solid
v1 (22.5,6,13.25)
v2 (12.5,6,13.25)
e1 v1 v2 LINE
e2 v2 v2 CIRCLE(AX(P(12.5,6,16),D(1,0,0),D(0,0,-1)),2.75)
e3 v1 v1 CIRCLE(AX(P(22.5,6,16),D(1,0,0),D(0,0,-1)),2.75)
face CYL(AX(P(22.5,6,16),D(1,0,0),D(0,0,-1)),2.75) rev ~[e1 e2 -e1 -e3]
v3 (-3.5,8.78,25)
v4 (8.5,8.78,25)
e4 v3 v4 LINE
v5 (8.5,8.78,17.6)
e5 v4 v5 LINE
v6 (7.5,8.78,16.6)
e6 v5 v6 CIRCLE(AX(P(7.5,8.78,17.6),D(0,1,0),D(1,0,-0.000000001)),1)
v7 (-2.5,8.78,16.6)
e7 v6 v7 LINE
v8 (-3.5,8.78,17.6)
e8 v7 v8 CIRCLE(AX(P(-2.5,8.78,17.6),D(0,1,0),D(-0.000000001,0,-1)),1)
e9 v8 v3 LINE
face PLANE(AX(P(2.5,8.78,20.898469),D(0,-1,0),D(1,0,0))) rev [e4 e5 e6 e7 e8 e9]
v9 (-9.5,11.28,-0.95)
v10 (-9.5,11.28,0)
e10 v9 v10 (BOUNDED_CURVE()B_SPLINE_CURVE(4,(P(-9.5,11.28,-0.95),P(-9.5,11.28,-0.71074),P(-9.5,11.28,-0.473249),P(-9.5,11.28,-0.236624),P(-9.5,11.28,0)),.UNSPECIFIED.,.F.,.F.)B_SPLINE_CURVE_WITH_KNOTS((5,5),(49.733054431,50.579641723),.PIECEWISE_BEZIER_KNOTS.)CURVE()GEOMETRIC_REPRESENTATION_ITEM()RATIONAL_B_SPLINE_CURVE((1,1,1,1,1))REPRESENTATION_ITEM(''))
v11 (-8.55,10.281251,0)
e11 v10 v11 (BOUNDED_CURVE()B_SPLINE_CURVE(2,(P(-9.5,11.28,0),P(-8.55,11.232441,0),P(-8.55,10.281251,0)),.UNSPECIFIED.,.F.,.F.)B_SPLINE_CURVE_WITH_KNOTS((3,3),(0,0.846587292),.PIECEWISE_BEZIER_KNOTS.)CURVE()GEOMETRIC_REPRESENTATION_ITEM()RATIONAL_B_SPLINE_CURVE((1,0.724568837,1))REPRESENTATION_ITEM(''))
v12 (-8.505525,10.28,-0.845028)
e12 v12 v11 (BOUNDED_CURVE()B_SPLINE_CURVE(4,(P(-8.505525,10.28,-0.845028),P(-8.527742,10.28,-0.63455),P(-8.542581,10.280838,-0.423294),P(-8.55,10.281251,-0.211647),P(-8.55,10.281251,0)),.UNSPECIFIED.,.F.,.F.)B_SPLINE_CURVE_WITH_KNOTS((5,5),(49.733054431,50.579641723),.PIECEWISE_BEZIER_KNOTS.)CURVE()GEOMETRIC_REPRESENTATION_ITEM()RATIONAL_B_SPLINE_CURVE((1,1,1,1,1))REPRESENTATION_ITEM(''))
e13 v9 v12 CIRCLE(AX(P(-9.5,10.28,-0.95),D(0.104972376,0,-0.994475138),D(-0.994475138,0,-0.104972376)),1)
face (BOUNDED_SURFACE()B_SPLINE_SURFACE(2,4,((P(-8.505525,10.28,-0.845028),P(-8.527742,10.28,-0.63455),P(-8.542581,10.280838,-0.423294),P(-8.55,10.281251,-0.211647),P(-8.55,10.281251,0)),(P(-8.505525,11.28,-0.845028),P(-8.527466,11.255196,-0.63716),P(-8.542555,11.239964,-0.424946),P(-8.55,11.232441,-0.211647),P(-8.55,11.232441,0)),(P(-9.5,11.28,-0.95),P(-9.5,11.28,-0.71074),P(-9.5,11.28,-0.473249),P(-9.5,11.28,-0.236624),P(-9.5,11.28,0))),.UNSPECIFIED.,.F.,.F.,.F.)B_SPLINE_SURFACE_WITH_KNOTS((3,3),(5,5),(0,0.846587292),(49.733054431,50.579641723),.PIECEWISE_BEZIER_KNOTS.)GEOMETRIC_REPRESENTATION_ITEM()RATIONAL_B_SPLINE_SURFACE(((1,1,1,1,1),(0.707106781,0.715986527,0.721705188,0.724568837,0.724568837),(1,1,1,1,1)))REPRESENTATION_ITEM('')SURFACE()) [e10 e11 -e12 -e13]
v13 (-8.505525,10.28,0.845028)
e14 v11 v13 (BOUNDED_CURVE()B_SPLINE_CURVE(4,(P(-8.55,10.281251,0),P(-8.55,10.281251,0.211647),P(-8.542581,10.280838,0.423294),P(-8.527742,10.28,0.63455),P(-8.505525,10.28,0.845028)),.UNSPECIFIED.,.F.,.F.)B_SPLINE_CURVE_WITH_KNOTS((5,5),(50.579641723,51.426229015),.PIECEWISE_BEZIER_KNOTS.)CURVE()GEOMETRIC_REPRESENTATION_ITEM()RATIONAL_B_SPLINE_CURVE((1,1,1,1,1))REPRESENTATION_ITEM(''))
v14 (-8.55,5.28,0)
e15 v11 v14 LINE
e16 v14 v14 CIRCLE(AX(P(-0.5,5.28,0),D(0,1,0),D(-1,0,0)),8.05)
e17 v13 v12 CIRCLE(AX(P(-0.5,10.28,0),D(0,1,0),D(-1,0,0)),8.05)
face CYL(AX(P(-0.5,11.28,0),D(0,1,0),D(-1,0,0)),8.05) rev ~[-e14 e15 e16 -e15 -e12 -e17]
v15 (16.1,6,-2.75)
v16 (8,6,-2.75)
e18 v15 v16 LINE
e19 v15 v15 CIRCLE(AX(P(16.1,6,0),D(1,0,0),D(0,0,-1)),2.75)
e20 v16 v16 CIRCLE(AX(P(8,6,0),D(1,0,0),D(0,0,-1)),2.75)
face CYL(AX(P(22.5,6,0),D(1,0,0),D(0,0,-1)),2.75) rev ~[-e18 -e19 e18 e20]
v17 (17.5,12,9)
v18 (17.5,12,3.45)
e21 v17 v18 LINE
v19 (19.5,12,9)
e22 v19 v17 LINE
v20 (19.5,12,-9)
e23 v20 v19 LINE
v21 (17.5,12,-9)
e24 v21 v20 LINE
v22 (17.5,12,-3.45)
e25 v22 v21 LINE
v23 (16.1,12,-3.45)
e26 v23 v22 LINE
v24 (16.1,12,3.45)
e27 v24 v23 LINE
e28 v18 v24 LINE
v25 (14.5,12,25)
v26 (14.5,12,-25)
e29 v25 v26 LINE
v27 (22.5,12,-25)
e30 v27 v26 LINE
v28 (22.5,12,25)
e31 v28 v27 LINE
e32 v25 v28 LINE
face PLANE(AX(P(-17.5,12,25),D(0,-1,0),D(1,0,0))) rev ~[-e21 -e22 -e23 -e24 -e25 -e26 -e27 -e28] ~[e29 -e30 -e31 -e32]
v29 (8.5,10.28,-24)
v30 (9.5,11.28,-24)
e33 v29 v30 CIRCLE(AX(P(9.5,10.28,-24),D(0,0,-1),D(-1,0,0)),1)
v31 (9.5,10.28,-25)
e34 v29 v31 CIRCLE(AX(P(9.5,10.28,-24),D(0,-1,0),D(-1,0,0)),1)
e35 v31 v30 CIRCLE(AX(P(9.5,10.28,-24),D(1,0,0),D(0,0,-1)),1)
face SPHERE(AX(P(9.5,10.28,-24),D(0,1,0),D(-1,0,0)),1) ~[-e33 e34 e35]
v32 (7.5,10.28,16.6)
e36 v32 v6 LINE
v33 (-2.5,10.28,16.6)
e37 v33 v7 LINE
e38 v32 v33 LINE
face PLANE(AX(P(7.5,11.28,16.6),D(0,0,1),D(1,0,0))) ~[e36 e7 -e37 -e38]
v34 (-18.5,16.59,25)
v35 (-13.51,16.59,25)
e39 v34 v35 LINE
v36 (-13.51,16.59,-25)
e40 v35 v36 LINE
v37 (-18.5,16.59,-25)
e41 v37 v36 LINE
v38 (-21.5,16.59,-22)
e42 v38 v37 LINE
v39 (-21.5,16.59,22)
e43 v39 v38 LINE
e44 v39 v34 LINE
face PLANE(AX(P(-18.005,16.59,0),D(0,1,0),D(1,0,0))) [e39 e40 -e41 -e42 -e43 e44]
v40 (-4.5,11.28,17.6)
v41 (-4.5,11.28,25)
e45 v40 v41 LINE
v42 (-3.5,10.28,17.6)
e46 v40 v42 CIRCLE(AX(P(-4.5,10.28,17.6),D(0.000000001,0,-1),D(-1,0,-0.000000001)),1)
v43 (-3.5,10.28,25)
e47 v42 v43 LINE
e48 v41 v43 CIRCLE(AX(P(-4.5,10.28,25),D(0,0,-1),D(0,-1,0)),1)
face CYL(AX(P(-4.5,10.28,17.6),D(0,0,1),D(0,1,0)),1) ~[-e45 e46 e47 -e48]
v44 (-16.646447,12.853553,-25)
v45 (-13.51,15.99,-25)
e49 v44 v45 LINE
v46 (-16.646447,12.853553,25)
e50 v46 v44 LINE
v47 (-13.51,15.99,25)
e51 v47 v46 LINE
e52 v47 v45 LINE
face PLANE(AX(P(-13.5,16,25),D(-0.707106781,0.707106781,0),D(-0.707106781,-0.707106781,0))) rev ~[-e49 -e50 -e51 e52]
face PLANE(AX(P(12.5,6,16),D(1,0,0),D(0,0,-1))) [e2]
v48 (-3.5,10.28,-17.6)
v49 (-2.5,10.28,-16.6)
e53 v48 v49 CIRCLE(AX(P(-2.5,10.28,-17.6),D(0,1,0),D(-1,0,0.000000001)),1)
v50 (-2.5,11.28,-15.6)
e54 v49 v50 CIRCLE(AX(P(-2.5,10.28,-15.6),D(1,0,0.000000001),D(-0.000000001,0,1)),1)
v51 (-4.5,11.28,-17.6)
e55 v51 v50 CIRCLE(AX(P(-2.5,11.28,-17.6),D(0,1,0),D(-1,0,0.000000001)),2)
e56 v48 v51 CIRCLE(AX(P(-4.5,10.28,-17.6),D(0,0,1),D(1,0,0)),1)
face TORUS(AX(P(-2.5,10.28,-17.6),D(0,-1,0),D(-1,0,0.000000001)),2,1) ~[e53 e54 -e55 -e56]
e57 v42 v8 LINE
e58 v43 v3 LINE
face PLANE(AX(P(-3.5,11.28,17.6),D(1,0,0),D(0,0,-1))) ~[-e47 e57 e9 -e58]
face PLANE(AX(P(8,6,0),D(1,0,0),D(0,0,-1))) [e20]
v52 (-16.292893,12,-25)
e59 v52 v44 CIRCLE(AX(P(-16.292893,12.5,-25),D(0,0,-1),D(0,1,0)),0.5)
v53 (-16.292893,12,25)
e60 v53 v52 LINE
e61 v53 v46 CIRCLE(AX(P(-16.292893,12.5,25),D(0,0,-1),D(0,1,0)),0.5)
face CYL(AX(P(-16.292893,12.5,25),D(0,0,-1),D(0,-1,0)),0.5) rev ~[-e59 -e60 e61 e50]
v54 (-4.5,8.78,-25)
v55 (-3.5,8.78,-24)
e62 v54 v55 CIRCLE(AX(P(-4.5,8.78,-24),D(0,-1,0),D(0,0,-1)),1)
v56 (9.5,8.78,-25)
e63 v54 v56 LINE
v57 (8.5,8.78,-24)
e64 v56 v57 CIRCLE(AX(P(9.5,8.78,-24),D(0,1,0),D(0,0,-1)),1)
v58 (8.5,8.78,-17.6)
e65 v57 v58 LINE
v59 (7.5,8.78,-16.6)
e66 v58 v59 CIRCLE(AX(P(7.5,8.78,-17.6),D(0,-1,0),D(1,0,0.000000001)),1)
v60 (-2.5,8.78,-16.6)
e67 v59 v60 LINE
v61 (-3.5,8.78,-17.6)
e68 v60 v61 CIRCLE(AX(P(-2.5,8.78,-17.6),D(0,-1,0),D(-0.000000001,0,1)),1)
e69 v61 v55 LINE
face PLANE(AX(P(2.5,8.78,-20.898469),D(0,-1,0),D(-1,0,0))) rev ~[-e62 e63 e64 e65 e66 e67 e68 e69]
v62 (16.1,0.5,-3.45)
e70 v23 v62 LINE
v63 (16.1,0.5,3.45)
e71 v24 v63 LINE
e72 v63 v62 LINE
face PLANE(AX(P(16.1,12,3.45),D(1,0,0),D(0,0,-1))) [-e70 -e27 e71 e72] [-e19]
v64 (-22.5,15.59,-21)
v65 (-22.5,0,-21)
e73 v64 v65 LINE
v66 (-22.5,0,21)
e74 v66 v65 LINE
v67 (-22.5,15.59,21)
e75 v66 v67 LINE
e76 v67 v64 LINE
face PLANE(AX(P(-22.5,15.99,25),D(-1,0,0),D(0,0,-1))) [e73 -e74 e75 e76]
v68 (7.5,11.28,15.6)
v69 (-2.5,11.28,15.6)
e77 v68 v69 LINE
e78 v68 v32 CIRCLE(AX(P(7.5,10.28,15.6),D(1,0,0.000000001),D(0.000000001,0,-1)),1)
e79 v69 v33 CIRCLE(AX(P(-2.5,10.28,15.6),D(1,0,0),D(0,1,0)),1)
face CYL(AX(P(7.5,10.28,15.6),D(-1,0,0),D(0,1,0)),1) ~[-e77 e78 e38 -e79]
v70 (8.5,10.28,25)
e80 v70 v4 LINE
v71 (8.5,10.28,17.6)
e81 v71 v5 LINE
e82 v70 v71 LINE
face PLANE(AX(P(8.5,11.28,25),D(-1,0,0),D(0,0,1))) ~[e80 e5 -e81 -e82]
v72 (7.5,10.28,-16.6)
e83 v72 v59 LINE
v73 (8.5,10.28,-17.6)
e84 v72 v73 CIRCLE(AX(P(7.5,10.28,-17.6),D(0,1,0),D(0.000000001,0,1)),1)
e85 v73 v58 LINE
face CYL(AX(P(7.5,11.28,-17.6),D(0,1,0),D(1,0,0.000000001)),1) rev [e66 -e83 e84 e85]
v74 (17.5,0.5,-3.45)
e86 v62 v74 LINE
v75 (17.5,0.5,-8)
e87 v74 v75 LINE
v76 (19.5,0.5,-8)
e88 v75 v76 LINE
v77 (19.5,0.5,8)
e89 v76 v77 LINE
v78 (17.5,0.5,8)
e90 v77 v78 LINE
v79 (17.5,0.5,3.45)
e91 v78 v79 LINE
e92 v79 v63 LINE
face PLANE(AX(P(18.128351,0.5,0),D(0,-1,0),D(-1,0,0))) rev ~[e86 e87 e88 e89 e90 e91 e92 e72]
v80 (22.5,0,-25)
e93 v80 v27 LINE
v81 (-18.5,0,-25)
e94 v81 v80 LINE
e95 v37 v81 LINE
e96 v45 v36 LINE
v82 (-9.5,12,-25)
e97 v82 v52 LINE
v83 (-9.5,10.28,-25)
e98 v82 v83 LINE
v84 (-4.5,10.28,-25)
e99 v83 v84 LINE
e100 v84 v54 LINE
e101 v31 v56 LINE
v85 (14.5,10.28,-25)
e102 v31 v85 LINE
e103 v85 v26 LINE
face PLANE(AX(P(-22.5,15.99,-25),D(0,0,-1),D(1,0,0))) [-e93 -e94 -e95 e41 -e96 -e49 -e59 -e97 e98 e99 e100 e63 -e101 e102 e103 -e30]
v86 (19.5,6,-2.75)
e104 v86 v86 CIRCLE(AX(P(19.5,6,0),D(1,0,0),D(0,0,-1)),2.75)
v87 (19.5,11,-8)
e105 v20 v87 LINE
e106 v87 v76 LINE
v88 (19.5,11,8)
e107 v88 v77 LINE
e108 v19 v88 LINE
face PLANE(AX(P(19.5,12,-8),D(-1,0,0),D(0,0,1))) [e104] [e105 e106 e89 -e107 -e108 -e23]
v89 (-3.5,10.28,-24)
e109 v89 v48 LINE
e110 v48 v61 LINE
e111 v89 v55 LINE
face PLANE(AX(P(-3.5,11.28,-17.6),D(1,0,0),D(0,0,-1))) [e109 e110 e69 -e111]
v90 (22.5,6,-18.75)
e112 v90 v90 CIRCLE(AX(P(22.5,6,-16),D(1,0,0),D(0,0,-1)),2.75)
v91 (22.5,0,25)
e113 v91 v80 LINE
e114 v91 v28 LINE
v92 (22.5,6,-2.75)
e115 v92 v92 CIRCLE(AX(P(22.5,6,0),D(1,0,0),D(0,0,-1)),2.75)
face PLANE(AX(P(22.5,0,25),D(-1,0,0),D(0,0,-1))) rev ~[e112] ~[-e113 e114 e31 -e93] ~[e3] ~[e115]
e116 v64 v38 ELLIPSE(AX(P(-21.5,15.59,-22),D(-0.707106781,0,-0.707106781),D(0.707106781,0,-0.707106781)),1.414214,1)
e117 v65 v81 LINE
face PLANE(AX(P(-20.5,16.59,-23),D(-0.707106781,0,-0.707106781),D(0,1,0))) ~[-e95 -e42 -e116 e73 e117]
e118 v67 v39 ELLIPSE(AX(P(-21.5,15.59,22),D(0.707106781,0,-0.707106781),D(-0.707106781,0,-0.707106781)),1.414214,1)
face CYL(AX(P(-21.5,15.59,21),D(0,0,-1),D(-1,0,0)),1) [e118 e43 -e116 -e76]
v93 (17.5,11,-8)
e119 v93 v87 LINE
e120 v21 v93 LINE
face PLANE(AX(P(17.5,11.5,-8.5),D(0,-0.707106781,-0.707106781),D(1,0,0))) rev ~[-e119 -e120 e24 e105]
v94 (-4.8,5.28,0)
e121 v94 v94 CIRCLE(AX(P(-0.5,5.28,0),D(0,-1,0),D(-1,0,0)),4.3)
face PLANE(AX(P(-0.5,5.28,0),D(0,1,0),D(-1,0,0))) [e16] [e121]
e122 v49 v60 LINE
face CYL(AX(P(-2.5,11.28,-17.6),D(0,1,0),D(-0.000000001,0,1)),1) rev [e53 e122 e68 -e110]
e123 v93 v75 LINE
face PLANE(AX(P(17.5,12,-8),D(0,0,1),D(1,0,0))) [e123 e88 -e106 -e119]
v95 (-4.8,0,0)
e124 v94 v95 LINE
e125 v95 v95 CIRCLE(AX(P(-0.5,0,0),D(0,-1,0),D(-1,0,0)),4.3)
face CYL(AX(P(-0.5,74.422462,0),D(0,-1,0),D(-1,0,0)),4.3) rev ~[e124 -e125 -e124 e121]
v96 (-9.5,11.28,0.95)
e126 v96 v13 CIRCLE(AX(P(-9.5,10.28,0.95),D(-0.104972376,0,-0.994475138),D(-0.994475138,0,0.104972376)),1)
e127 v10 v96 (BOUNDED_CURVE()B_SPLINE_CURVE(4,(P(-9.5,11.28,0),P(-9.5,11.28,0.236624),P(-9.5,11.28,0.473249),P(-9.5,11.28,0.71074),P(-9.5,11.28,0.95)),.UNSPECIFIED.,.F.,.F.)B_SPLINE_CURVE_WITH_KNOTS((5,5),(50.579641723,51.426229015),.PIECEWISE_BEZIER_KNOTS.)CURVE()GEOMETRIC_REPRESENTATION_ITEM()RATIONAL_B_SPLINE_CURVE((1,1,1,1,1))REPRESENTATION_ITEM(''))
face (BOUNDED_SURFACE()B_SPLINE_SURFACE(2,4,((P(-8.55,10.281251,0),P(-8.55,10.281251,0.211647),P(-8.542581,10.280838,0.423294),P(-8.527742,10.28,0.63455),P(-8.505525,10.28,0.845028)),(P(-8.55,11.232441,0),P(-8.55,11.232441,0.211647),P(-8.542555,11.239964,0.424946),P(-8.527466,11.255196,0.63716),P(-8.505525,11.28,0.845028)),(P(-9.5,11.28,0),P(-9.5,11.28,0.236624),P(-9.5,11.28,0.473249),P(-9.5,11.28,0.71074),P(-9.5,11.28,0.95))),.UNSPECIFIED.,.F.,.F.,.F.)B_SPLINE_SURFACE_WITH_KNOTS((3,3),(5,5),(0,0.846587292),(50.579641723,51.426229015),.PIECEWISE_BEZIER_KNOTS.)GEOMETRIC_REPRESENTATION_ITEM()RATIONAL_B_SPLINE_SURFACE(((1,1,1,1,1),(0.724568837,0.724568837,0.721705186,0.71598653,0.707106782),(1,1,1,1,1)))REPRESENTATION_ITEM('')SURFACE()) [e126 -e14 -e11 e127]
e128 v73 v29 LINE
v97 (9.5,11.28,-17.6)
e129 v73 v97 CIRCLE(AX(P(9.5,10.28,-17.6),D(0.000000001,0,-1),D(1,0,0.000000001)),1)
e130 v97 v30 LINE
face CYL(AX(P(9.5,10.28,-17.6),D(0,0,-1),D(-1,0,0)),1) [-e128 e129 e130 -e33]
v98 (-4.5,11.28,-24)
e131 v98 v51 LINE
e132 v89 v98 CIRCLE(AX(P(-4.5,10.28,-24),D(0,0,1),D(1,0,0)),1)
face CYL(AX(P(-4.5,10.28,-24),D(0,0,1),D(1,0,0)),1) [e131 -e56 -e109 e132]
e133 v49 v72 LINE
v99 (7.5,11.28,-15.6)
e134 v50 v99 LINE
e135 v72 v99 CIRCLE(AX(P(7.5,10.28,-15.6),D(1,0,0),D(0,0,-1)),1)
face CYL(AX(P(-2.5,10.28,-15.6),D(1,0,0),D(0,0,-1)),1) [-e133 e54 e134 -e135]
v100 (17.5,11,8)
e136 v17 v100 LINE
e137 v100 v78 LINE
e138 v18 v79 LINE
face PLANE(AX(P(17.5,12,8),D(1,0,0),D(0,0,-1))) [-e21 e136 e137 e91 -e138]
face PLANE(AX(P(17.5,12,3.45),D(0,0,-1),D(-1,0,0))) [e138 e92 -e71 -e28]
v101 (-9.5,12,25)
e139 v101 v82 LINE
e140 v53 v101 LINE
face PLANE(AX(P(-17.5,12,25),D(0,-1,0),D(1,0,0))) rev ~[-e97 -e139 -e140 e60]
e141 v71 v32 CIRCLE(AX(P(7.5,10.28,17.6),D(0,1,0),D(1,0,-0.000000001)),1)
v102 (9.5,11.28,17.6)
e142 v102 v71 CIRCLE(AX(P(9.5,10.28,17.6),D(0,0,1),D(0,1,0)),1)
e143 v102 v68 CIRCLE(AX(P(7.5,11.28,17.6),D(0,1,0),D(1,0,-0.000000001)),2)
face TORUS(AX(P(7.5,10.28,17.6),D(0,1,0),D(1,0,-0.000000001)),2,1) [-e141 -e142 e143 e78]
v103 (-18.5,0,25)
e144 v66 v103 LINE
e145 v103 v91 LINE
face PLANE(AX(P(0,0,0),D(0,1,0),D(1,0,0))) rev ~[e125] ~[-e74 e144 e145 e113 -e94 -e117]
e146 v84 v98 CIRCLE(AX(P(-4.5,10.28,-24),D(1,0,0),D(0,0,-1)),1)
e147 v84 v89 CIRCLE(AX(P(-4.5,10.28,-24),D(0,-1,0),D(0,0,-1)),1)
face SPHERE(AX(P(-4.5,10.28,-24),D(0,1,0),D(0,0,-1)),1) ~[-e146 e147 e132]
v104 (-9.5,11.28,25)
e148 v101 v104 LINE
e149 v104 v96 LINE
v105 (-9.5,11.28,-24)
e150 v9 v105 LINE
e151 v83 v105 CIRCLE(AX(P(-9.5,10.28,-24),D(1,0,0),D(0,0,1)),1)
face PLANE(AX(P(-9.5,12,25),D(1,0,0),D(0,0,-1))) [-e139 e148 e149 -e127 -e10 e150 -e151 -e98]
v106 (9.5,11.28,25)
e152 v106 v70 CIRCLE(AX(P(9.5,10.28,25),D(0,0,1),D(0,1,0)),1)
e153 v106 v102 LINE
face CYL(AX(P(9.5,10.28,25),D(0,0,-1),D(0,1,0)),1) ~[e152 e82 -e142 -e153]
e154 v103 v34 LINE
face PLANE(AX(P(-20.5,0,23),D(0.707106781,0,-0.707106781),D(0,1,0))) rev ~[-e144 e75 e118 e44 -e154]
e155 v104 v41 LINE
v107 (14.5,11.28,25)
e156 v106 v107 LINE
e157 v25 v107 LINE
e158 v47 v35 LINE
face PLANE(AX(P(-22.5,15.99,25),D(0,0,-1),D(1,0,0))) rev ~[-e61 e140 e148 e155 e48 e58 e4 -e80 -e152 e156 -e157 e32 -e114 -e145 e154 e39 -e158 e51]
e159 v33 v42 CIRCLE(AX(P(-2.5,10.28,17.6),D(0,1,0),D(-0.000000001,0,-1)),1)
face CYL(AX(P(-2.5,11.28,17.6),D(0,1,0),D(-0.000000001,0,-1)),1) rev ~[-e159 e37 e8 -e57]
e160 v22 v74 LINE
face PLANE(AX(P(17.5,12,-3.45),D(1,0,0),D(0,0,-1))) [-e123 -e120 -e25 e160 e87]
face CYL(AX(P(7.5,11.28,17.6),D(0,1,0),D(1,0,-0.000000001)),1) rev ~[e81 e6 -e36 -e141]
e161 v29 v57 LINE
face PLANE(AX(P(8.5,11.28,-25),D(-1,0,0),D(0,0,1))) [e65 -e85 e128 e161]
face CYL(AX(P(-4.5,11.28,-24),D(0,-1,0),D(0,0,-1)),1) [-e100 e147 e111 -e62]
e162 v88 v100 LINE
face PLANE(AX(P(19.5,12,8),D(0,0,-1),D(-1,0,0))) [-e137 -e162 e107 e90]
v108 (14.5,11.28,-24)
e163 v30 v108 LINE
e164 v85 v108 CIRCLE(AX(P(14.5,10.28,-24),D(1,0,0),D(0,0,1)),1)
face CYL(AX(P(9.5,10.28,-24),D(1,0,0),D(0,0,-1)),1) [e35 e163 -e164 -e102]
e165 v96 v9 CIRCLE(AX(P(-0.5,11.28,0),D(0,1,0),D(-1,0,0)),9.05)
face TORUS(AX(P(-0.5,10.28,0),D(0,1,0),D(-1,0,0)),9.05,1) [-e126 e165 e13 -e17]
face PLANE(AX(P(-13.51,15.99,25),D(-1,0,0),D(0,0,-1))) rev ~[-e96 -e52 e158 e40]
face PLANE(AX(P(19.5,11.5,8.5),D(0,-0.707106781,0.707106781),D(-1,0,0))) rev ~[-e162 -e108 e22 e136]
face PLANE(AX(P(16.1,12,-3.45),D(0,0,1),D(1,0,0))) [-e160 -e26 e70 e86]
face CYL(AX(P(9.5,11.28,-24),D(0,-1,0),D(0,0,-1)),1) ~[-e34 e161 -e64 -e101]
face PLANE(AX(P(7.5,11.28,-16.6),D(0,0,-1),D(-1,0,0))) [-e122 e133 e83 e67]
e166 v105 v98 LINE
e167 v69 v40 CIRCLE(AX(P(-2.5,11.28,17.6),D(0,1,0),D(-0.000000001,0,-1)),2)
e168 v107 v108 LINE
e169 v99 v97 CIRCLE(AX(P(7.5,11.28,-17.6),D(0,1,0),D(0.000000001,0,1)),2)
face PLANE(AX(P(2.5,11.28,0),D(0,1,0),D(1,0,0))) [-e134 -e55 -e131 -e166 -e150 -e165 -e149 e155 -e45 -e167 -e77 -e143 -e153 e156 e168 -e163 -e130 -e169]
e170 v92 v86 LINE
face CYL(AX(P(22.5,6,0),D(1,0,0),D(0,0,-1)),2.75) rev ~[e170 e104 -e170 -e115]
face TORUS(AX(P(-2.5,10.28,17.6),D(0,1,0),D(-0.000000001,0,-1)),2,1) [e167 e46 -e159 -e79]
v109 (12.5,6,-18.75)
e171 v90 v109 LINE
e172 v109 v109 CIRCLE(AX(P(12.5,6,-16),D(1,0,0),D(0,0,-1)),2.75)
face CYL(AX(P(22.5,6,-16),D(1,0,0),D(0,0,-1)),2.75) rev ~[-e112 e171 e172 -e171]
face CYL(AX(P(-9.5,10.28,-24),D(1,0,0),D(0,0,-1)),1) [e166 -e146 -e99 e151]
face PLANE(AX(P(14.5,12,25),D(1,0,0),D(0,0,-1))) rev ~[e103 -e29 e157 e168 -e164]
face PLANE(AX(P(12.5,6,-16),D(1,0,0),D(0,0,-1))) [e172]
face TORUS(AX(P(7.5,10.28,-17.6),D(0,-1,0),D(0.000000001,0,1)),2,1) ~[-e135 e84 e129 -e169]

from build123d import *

# Parameters (mm, degrees)
SKETCH1_W            = 45
SKETCH1_H            = 50
BOSS_EXTRUDE1_DEPTH  = 16
CUT_EXTRUDE1_DEPTH   = 58.116109812
SKETCH4_W            = 24
SKETCH4_H            = 50
CUT_EXTRUDE2_DEPTH   = 0.72
CUT_EXTRUDE3_DEPTH   = 58.116109812
SKETCH8_R            = 8.05
CUT_EXTRUDE4_DEPTH   = 6
M8_CLEARANCE_HOLE1_D = 8.6
CUT_EXTRUDE5_DEPTH   = 2.5
FILLET1_R            = 1
FILLET2_R            = 1
FILLET4_R            = 0.5
CUT_EXTRUDE7_DEPTH   = 11.5
SKETCH18_R           = 2.75
CUT_EXTRUDE8_DEPTH   = 14.5
SKETCH19_R           = 2.75
CUT_EXTRUDE9_DEPTH   = 10
SKETCH21_W           = 8.99
SKETCH21_H           = 50
BOSS_EXTRUDE2_DEPTH  = 0.6
CHAMFER1_SIZE        = 4
FILLET5_R            = 1
CHAMFER2_SIZE        = 1


with BuildPart() as part:
    # Sketch1 → Boss-Extrude1 (new body)
    with BuildSketch(Plane(origin=(0, 0, 0), x_dir=(1, 0, 0), z_dir=(0, 1, 0))):
        Rectangle(SKETCH1_W, SKETCH1_H)
    extrude(amount=BOSS_EXTRUDE1_DEPTH)

    # Sketch3 → Cut-Extrude1 (cut, through all)
    with BuildSketch(Plane.XY.offset(25)):
        Polygon((-13.5, 16), (-17.5, 12), (22.5, 12), (22.5, 16), align=None)
    extrude(amount=-CUT_EXTRUDE1_DEPTH, mode=Mode.SUBTRACT)

    # Sketch4 → Cut-Extrude2 (cut)
    with BuildSketch(Plane(origin=(0, 12, 0), x_dir=(1, 0, 0), z_dir=(0, 1, 0))):
        with Locations((2.5, 0)):
            Rectangle(SKETCH4_W, SKETCH4_H)
    extrude(amount=-CUT_EXTRUDE2_DEPTH, mode=Mode.SUBTRACT)

    # Sketch5 → Cut-Extrude3 (cut, through all)
    with BuildSketch(Plane.XY.offset(25)):
        Polygon((-22.5, 16), (-13.5, 16), (-13.51, 15.99), (-22.5, 15.99), align=None)
    extrude(amount=-CUT_EXTRUDE3_DEPTH, mode=Mode.SUBTRACT)

    # Sketch8 → Cut-Extrude4 (cut)
    with BuildSketch(Plane(origin=(0, 11.28, 0), x_dir=(1, 0, 0), z_dir=(0, 1, 0))):
        with Locations(Location((-0.5, 0, 0), (0, 0, 180))):
            Circle(SKETCH8_R)
    extrude(amount=-CUT_EXTRUDE4_DEPTH, mode=Mode.SUBTRACT)

    # M8 Clearance Hole1 (through all)
    with Locations(Plane(origin=(0, 5.28, 0), x_dir=(1, 0, 0), z_dir=(0, 1, 0))):
        with Locations((-0.5, 0)):
            Hole(M8_CLEARANCE_HOLE1_D / 2)

    # Sketch12 → Cut-Extrude5 (cut)
    with BuildSketch(Plane(origin=(0, 11.28, 0), x_dir=(1, 0, 0), z_dir=(0, 1, 0))):
        with BuildLine():
            Line((7.5, 16.6), (-2.5, 16.6))
            ThreePointArc((-2.5, 16.6), (-3.207106781, 16.892893219), (-3.5, 17.6))
            Line((-3.5, 17.6), (-3.5, 25))
            Line((-3.5, 25), (8.5, 25))
            Line((8.5, 25), (8.5, 17.6))
            ThreePointArc((8.5, 17.6), (8.207106781, 16.892893219), (7.5, 16.6))
        make_face()
    cut_extrude5 = extrude(amount=-CUT_EXTRUDE5_DEPTH, mode=Mode.SUBTRACT)

    # Fillet1
    fillet1_edges = [part.edges().sort_by_distance(p)[0] for p in [
        (-3.5, 10.03, -25),
        (8.5, 10.03, -25),
    ]]
    fillet(fillet1_edges, radius=FILLET1_R)

    # Mirror2: Cut-Extrude5 across plane
    add(cut_extrude5.mirror(Plane.XY), mode=Mode.SUBTRACT)

    # Fillet2
    fillet2_edges = [part.edges().sort_by_distance(p)[0] for p in [
        (8.207106781, 11.28, 16.892893219),
        (8.5, 11.28, 21.3),
        (-3.5, 11.28, 21.3),
        (-3.207106781, 11.28, 16.892893219),
        (2.5, 11.28, 16.6),
        (-7, 11.28, -25),
        (7.55, 11.28, 0),
        (8.207106781, 11.28, -16.892893219),
        (8.5, 11.28, -20.8),
        (-3.207106781, 11.28, -16.892893219),
        (2.5, 11.28, -16.6),
        (12, 11.28, -25),
        (-3.5, 11.28, -20.8),
        (-3.792893219, 11.28, -24.707106781),
        (8.792893219, 11.28, -24.707106781),
    ]]
    fillet(fillet2_edges, radius=FILLET2_R)

    # Fillet4
    fillet4_edges = [part.edges().sort_by_distance(p)[0] for p in [
        (-17.5, 12, 0),
    ]]
    fillet(fillet4_edges, radius=FILLET4_R)

    # Sketch14 → Cut-Extrude7 (cut)
    with BuildSketch(Plane(origin=(0, 12, 0), x_dir=(1, 0, 0), z_dir=(0, 1, 0))):
        Polygon((19.5, -8), (17.5, -8), (17.5, -3.45), (16.1, -3.45), (16.1, 3.45), (17.5, 3.45), (17.5, 8), (19.5, 8), align=None)
    extrude(amount=-CUT_EXTRUDE7_DEPTH, mode=Mode.SUBTRACT)

    # Sketch18 → Cut-Extrude8 (cut)
    with BuildSketch(Plane(origin=(22.5, 0, 0), x_dir=(0, 0, -1), z_dir=(1, 0, 0))):
        with Locations((0, 6)):
            Circle(SKETCH18_R)
    extrude(amount=-CUT_EXTRUDE8_DEPTH, mode=Mode.SUBTRACT)

    # Sketch19 → Cut-Extrude9 (cut)
    with BuildSketch(Plane(origin=(22.5, 0, 0), x_dir=(0, 0, -1), z_dir=(1, 0, 0))):
        with Locations((-16, 6)):
            Circle(SKETCH19_R)
        with Locations((16, 6)):
            Circle(SKETCH19_R)
    extrude(amount=-CUT_EXTRUDE9_DEPTH, mode=Mode.SUBTRACT)

    # Sketch21 → Boss-Extrude2 (add)
    with BuildSketch(Plane(origin=(0, 15.99, 0), x_dir=(1, 0, 0), z_dir=(0, 1, 0))):
        with Locations((-18.005, 0)):
            Rectangle(SKETCH21_W, SKETCH21_H)
    extrude(amount=BOSS_EXTRUDE2_DEPTH)

    # Chamfer1
    chamfer1_edges = [part.edges().sort_by_distance(p)[0] for p in [
        (-22.5, 8.295, 25),
        (-22.5, 8.295, -25),
    ]]
    chamfer(chamfer1_edges, length=CHAMFER1_SIZE)

    # Fillet5
    fillet5_edges = [part.edges().sort_by_distance(p)[0] for p in [
        (-22.5, 16.59, 0),
    ]]
    fillet(fillet5_edges, radius=FILLET5_R)

    # Chamfer2
    chamfer2_edges = [part.edges().sort_by_distance(p)[0] for p in [
        (18.5, 12, 8),
        (18.5, 12, -8),
    ]]
    chamfer(chamfer2_edges, length=CHAMFER2_SIZE)


solid = part.part
